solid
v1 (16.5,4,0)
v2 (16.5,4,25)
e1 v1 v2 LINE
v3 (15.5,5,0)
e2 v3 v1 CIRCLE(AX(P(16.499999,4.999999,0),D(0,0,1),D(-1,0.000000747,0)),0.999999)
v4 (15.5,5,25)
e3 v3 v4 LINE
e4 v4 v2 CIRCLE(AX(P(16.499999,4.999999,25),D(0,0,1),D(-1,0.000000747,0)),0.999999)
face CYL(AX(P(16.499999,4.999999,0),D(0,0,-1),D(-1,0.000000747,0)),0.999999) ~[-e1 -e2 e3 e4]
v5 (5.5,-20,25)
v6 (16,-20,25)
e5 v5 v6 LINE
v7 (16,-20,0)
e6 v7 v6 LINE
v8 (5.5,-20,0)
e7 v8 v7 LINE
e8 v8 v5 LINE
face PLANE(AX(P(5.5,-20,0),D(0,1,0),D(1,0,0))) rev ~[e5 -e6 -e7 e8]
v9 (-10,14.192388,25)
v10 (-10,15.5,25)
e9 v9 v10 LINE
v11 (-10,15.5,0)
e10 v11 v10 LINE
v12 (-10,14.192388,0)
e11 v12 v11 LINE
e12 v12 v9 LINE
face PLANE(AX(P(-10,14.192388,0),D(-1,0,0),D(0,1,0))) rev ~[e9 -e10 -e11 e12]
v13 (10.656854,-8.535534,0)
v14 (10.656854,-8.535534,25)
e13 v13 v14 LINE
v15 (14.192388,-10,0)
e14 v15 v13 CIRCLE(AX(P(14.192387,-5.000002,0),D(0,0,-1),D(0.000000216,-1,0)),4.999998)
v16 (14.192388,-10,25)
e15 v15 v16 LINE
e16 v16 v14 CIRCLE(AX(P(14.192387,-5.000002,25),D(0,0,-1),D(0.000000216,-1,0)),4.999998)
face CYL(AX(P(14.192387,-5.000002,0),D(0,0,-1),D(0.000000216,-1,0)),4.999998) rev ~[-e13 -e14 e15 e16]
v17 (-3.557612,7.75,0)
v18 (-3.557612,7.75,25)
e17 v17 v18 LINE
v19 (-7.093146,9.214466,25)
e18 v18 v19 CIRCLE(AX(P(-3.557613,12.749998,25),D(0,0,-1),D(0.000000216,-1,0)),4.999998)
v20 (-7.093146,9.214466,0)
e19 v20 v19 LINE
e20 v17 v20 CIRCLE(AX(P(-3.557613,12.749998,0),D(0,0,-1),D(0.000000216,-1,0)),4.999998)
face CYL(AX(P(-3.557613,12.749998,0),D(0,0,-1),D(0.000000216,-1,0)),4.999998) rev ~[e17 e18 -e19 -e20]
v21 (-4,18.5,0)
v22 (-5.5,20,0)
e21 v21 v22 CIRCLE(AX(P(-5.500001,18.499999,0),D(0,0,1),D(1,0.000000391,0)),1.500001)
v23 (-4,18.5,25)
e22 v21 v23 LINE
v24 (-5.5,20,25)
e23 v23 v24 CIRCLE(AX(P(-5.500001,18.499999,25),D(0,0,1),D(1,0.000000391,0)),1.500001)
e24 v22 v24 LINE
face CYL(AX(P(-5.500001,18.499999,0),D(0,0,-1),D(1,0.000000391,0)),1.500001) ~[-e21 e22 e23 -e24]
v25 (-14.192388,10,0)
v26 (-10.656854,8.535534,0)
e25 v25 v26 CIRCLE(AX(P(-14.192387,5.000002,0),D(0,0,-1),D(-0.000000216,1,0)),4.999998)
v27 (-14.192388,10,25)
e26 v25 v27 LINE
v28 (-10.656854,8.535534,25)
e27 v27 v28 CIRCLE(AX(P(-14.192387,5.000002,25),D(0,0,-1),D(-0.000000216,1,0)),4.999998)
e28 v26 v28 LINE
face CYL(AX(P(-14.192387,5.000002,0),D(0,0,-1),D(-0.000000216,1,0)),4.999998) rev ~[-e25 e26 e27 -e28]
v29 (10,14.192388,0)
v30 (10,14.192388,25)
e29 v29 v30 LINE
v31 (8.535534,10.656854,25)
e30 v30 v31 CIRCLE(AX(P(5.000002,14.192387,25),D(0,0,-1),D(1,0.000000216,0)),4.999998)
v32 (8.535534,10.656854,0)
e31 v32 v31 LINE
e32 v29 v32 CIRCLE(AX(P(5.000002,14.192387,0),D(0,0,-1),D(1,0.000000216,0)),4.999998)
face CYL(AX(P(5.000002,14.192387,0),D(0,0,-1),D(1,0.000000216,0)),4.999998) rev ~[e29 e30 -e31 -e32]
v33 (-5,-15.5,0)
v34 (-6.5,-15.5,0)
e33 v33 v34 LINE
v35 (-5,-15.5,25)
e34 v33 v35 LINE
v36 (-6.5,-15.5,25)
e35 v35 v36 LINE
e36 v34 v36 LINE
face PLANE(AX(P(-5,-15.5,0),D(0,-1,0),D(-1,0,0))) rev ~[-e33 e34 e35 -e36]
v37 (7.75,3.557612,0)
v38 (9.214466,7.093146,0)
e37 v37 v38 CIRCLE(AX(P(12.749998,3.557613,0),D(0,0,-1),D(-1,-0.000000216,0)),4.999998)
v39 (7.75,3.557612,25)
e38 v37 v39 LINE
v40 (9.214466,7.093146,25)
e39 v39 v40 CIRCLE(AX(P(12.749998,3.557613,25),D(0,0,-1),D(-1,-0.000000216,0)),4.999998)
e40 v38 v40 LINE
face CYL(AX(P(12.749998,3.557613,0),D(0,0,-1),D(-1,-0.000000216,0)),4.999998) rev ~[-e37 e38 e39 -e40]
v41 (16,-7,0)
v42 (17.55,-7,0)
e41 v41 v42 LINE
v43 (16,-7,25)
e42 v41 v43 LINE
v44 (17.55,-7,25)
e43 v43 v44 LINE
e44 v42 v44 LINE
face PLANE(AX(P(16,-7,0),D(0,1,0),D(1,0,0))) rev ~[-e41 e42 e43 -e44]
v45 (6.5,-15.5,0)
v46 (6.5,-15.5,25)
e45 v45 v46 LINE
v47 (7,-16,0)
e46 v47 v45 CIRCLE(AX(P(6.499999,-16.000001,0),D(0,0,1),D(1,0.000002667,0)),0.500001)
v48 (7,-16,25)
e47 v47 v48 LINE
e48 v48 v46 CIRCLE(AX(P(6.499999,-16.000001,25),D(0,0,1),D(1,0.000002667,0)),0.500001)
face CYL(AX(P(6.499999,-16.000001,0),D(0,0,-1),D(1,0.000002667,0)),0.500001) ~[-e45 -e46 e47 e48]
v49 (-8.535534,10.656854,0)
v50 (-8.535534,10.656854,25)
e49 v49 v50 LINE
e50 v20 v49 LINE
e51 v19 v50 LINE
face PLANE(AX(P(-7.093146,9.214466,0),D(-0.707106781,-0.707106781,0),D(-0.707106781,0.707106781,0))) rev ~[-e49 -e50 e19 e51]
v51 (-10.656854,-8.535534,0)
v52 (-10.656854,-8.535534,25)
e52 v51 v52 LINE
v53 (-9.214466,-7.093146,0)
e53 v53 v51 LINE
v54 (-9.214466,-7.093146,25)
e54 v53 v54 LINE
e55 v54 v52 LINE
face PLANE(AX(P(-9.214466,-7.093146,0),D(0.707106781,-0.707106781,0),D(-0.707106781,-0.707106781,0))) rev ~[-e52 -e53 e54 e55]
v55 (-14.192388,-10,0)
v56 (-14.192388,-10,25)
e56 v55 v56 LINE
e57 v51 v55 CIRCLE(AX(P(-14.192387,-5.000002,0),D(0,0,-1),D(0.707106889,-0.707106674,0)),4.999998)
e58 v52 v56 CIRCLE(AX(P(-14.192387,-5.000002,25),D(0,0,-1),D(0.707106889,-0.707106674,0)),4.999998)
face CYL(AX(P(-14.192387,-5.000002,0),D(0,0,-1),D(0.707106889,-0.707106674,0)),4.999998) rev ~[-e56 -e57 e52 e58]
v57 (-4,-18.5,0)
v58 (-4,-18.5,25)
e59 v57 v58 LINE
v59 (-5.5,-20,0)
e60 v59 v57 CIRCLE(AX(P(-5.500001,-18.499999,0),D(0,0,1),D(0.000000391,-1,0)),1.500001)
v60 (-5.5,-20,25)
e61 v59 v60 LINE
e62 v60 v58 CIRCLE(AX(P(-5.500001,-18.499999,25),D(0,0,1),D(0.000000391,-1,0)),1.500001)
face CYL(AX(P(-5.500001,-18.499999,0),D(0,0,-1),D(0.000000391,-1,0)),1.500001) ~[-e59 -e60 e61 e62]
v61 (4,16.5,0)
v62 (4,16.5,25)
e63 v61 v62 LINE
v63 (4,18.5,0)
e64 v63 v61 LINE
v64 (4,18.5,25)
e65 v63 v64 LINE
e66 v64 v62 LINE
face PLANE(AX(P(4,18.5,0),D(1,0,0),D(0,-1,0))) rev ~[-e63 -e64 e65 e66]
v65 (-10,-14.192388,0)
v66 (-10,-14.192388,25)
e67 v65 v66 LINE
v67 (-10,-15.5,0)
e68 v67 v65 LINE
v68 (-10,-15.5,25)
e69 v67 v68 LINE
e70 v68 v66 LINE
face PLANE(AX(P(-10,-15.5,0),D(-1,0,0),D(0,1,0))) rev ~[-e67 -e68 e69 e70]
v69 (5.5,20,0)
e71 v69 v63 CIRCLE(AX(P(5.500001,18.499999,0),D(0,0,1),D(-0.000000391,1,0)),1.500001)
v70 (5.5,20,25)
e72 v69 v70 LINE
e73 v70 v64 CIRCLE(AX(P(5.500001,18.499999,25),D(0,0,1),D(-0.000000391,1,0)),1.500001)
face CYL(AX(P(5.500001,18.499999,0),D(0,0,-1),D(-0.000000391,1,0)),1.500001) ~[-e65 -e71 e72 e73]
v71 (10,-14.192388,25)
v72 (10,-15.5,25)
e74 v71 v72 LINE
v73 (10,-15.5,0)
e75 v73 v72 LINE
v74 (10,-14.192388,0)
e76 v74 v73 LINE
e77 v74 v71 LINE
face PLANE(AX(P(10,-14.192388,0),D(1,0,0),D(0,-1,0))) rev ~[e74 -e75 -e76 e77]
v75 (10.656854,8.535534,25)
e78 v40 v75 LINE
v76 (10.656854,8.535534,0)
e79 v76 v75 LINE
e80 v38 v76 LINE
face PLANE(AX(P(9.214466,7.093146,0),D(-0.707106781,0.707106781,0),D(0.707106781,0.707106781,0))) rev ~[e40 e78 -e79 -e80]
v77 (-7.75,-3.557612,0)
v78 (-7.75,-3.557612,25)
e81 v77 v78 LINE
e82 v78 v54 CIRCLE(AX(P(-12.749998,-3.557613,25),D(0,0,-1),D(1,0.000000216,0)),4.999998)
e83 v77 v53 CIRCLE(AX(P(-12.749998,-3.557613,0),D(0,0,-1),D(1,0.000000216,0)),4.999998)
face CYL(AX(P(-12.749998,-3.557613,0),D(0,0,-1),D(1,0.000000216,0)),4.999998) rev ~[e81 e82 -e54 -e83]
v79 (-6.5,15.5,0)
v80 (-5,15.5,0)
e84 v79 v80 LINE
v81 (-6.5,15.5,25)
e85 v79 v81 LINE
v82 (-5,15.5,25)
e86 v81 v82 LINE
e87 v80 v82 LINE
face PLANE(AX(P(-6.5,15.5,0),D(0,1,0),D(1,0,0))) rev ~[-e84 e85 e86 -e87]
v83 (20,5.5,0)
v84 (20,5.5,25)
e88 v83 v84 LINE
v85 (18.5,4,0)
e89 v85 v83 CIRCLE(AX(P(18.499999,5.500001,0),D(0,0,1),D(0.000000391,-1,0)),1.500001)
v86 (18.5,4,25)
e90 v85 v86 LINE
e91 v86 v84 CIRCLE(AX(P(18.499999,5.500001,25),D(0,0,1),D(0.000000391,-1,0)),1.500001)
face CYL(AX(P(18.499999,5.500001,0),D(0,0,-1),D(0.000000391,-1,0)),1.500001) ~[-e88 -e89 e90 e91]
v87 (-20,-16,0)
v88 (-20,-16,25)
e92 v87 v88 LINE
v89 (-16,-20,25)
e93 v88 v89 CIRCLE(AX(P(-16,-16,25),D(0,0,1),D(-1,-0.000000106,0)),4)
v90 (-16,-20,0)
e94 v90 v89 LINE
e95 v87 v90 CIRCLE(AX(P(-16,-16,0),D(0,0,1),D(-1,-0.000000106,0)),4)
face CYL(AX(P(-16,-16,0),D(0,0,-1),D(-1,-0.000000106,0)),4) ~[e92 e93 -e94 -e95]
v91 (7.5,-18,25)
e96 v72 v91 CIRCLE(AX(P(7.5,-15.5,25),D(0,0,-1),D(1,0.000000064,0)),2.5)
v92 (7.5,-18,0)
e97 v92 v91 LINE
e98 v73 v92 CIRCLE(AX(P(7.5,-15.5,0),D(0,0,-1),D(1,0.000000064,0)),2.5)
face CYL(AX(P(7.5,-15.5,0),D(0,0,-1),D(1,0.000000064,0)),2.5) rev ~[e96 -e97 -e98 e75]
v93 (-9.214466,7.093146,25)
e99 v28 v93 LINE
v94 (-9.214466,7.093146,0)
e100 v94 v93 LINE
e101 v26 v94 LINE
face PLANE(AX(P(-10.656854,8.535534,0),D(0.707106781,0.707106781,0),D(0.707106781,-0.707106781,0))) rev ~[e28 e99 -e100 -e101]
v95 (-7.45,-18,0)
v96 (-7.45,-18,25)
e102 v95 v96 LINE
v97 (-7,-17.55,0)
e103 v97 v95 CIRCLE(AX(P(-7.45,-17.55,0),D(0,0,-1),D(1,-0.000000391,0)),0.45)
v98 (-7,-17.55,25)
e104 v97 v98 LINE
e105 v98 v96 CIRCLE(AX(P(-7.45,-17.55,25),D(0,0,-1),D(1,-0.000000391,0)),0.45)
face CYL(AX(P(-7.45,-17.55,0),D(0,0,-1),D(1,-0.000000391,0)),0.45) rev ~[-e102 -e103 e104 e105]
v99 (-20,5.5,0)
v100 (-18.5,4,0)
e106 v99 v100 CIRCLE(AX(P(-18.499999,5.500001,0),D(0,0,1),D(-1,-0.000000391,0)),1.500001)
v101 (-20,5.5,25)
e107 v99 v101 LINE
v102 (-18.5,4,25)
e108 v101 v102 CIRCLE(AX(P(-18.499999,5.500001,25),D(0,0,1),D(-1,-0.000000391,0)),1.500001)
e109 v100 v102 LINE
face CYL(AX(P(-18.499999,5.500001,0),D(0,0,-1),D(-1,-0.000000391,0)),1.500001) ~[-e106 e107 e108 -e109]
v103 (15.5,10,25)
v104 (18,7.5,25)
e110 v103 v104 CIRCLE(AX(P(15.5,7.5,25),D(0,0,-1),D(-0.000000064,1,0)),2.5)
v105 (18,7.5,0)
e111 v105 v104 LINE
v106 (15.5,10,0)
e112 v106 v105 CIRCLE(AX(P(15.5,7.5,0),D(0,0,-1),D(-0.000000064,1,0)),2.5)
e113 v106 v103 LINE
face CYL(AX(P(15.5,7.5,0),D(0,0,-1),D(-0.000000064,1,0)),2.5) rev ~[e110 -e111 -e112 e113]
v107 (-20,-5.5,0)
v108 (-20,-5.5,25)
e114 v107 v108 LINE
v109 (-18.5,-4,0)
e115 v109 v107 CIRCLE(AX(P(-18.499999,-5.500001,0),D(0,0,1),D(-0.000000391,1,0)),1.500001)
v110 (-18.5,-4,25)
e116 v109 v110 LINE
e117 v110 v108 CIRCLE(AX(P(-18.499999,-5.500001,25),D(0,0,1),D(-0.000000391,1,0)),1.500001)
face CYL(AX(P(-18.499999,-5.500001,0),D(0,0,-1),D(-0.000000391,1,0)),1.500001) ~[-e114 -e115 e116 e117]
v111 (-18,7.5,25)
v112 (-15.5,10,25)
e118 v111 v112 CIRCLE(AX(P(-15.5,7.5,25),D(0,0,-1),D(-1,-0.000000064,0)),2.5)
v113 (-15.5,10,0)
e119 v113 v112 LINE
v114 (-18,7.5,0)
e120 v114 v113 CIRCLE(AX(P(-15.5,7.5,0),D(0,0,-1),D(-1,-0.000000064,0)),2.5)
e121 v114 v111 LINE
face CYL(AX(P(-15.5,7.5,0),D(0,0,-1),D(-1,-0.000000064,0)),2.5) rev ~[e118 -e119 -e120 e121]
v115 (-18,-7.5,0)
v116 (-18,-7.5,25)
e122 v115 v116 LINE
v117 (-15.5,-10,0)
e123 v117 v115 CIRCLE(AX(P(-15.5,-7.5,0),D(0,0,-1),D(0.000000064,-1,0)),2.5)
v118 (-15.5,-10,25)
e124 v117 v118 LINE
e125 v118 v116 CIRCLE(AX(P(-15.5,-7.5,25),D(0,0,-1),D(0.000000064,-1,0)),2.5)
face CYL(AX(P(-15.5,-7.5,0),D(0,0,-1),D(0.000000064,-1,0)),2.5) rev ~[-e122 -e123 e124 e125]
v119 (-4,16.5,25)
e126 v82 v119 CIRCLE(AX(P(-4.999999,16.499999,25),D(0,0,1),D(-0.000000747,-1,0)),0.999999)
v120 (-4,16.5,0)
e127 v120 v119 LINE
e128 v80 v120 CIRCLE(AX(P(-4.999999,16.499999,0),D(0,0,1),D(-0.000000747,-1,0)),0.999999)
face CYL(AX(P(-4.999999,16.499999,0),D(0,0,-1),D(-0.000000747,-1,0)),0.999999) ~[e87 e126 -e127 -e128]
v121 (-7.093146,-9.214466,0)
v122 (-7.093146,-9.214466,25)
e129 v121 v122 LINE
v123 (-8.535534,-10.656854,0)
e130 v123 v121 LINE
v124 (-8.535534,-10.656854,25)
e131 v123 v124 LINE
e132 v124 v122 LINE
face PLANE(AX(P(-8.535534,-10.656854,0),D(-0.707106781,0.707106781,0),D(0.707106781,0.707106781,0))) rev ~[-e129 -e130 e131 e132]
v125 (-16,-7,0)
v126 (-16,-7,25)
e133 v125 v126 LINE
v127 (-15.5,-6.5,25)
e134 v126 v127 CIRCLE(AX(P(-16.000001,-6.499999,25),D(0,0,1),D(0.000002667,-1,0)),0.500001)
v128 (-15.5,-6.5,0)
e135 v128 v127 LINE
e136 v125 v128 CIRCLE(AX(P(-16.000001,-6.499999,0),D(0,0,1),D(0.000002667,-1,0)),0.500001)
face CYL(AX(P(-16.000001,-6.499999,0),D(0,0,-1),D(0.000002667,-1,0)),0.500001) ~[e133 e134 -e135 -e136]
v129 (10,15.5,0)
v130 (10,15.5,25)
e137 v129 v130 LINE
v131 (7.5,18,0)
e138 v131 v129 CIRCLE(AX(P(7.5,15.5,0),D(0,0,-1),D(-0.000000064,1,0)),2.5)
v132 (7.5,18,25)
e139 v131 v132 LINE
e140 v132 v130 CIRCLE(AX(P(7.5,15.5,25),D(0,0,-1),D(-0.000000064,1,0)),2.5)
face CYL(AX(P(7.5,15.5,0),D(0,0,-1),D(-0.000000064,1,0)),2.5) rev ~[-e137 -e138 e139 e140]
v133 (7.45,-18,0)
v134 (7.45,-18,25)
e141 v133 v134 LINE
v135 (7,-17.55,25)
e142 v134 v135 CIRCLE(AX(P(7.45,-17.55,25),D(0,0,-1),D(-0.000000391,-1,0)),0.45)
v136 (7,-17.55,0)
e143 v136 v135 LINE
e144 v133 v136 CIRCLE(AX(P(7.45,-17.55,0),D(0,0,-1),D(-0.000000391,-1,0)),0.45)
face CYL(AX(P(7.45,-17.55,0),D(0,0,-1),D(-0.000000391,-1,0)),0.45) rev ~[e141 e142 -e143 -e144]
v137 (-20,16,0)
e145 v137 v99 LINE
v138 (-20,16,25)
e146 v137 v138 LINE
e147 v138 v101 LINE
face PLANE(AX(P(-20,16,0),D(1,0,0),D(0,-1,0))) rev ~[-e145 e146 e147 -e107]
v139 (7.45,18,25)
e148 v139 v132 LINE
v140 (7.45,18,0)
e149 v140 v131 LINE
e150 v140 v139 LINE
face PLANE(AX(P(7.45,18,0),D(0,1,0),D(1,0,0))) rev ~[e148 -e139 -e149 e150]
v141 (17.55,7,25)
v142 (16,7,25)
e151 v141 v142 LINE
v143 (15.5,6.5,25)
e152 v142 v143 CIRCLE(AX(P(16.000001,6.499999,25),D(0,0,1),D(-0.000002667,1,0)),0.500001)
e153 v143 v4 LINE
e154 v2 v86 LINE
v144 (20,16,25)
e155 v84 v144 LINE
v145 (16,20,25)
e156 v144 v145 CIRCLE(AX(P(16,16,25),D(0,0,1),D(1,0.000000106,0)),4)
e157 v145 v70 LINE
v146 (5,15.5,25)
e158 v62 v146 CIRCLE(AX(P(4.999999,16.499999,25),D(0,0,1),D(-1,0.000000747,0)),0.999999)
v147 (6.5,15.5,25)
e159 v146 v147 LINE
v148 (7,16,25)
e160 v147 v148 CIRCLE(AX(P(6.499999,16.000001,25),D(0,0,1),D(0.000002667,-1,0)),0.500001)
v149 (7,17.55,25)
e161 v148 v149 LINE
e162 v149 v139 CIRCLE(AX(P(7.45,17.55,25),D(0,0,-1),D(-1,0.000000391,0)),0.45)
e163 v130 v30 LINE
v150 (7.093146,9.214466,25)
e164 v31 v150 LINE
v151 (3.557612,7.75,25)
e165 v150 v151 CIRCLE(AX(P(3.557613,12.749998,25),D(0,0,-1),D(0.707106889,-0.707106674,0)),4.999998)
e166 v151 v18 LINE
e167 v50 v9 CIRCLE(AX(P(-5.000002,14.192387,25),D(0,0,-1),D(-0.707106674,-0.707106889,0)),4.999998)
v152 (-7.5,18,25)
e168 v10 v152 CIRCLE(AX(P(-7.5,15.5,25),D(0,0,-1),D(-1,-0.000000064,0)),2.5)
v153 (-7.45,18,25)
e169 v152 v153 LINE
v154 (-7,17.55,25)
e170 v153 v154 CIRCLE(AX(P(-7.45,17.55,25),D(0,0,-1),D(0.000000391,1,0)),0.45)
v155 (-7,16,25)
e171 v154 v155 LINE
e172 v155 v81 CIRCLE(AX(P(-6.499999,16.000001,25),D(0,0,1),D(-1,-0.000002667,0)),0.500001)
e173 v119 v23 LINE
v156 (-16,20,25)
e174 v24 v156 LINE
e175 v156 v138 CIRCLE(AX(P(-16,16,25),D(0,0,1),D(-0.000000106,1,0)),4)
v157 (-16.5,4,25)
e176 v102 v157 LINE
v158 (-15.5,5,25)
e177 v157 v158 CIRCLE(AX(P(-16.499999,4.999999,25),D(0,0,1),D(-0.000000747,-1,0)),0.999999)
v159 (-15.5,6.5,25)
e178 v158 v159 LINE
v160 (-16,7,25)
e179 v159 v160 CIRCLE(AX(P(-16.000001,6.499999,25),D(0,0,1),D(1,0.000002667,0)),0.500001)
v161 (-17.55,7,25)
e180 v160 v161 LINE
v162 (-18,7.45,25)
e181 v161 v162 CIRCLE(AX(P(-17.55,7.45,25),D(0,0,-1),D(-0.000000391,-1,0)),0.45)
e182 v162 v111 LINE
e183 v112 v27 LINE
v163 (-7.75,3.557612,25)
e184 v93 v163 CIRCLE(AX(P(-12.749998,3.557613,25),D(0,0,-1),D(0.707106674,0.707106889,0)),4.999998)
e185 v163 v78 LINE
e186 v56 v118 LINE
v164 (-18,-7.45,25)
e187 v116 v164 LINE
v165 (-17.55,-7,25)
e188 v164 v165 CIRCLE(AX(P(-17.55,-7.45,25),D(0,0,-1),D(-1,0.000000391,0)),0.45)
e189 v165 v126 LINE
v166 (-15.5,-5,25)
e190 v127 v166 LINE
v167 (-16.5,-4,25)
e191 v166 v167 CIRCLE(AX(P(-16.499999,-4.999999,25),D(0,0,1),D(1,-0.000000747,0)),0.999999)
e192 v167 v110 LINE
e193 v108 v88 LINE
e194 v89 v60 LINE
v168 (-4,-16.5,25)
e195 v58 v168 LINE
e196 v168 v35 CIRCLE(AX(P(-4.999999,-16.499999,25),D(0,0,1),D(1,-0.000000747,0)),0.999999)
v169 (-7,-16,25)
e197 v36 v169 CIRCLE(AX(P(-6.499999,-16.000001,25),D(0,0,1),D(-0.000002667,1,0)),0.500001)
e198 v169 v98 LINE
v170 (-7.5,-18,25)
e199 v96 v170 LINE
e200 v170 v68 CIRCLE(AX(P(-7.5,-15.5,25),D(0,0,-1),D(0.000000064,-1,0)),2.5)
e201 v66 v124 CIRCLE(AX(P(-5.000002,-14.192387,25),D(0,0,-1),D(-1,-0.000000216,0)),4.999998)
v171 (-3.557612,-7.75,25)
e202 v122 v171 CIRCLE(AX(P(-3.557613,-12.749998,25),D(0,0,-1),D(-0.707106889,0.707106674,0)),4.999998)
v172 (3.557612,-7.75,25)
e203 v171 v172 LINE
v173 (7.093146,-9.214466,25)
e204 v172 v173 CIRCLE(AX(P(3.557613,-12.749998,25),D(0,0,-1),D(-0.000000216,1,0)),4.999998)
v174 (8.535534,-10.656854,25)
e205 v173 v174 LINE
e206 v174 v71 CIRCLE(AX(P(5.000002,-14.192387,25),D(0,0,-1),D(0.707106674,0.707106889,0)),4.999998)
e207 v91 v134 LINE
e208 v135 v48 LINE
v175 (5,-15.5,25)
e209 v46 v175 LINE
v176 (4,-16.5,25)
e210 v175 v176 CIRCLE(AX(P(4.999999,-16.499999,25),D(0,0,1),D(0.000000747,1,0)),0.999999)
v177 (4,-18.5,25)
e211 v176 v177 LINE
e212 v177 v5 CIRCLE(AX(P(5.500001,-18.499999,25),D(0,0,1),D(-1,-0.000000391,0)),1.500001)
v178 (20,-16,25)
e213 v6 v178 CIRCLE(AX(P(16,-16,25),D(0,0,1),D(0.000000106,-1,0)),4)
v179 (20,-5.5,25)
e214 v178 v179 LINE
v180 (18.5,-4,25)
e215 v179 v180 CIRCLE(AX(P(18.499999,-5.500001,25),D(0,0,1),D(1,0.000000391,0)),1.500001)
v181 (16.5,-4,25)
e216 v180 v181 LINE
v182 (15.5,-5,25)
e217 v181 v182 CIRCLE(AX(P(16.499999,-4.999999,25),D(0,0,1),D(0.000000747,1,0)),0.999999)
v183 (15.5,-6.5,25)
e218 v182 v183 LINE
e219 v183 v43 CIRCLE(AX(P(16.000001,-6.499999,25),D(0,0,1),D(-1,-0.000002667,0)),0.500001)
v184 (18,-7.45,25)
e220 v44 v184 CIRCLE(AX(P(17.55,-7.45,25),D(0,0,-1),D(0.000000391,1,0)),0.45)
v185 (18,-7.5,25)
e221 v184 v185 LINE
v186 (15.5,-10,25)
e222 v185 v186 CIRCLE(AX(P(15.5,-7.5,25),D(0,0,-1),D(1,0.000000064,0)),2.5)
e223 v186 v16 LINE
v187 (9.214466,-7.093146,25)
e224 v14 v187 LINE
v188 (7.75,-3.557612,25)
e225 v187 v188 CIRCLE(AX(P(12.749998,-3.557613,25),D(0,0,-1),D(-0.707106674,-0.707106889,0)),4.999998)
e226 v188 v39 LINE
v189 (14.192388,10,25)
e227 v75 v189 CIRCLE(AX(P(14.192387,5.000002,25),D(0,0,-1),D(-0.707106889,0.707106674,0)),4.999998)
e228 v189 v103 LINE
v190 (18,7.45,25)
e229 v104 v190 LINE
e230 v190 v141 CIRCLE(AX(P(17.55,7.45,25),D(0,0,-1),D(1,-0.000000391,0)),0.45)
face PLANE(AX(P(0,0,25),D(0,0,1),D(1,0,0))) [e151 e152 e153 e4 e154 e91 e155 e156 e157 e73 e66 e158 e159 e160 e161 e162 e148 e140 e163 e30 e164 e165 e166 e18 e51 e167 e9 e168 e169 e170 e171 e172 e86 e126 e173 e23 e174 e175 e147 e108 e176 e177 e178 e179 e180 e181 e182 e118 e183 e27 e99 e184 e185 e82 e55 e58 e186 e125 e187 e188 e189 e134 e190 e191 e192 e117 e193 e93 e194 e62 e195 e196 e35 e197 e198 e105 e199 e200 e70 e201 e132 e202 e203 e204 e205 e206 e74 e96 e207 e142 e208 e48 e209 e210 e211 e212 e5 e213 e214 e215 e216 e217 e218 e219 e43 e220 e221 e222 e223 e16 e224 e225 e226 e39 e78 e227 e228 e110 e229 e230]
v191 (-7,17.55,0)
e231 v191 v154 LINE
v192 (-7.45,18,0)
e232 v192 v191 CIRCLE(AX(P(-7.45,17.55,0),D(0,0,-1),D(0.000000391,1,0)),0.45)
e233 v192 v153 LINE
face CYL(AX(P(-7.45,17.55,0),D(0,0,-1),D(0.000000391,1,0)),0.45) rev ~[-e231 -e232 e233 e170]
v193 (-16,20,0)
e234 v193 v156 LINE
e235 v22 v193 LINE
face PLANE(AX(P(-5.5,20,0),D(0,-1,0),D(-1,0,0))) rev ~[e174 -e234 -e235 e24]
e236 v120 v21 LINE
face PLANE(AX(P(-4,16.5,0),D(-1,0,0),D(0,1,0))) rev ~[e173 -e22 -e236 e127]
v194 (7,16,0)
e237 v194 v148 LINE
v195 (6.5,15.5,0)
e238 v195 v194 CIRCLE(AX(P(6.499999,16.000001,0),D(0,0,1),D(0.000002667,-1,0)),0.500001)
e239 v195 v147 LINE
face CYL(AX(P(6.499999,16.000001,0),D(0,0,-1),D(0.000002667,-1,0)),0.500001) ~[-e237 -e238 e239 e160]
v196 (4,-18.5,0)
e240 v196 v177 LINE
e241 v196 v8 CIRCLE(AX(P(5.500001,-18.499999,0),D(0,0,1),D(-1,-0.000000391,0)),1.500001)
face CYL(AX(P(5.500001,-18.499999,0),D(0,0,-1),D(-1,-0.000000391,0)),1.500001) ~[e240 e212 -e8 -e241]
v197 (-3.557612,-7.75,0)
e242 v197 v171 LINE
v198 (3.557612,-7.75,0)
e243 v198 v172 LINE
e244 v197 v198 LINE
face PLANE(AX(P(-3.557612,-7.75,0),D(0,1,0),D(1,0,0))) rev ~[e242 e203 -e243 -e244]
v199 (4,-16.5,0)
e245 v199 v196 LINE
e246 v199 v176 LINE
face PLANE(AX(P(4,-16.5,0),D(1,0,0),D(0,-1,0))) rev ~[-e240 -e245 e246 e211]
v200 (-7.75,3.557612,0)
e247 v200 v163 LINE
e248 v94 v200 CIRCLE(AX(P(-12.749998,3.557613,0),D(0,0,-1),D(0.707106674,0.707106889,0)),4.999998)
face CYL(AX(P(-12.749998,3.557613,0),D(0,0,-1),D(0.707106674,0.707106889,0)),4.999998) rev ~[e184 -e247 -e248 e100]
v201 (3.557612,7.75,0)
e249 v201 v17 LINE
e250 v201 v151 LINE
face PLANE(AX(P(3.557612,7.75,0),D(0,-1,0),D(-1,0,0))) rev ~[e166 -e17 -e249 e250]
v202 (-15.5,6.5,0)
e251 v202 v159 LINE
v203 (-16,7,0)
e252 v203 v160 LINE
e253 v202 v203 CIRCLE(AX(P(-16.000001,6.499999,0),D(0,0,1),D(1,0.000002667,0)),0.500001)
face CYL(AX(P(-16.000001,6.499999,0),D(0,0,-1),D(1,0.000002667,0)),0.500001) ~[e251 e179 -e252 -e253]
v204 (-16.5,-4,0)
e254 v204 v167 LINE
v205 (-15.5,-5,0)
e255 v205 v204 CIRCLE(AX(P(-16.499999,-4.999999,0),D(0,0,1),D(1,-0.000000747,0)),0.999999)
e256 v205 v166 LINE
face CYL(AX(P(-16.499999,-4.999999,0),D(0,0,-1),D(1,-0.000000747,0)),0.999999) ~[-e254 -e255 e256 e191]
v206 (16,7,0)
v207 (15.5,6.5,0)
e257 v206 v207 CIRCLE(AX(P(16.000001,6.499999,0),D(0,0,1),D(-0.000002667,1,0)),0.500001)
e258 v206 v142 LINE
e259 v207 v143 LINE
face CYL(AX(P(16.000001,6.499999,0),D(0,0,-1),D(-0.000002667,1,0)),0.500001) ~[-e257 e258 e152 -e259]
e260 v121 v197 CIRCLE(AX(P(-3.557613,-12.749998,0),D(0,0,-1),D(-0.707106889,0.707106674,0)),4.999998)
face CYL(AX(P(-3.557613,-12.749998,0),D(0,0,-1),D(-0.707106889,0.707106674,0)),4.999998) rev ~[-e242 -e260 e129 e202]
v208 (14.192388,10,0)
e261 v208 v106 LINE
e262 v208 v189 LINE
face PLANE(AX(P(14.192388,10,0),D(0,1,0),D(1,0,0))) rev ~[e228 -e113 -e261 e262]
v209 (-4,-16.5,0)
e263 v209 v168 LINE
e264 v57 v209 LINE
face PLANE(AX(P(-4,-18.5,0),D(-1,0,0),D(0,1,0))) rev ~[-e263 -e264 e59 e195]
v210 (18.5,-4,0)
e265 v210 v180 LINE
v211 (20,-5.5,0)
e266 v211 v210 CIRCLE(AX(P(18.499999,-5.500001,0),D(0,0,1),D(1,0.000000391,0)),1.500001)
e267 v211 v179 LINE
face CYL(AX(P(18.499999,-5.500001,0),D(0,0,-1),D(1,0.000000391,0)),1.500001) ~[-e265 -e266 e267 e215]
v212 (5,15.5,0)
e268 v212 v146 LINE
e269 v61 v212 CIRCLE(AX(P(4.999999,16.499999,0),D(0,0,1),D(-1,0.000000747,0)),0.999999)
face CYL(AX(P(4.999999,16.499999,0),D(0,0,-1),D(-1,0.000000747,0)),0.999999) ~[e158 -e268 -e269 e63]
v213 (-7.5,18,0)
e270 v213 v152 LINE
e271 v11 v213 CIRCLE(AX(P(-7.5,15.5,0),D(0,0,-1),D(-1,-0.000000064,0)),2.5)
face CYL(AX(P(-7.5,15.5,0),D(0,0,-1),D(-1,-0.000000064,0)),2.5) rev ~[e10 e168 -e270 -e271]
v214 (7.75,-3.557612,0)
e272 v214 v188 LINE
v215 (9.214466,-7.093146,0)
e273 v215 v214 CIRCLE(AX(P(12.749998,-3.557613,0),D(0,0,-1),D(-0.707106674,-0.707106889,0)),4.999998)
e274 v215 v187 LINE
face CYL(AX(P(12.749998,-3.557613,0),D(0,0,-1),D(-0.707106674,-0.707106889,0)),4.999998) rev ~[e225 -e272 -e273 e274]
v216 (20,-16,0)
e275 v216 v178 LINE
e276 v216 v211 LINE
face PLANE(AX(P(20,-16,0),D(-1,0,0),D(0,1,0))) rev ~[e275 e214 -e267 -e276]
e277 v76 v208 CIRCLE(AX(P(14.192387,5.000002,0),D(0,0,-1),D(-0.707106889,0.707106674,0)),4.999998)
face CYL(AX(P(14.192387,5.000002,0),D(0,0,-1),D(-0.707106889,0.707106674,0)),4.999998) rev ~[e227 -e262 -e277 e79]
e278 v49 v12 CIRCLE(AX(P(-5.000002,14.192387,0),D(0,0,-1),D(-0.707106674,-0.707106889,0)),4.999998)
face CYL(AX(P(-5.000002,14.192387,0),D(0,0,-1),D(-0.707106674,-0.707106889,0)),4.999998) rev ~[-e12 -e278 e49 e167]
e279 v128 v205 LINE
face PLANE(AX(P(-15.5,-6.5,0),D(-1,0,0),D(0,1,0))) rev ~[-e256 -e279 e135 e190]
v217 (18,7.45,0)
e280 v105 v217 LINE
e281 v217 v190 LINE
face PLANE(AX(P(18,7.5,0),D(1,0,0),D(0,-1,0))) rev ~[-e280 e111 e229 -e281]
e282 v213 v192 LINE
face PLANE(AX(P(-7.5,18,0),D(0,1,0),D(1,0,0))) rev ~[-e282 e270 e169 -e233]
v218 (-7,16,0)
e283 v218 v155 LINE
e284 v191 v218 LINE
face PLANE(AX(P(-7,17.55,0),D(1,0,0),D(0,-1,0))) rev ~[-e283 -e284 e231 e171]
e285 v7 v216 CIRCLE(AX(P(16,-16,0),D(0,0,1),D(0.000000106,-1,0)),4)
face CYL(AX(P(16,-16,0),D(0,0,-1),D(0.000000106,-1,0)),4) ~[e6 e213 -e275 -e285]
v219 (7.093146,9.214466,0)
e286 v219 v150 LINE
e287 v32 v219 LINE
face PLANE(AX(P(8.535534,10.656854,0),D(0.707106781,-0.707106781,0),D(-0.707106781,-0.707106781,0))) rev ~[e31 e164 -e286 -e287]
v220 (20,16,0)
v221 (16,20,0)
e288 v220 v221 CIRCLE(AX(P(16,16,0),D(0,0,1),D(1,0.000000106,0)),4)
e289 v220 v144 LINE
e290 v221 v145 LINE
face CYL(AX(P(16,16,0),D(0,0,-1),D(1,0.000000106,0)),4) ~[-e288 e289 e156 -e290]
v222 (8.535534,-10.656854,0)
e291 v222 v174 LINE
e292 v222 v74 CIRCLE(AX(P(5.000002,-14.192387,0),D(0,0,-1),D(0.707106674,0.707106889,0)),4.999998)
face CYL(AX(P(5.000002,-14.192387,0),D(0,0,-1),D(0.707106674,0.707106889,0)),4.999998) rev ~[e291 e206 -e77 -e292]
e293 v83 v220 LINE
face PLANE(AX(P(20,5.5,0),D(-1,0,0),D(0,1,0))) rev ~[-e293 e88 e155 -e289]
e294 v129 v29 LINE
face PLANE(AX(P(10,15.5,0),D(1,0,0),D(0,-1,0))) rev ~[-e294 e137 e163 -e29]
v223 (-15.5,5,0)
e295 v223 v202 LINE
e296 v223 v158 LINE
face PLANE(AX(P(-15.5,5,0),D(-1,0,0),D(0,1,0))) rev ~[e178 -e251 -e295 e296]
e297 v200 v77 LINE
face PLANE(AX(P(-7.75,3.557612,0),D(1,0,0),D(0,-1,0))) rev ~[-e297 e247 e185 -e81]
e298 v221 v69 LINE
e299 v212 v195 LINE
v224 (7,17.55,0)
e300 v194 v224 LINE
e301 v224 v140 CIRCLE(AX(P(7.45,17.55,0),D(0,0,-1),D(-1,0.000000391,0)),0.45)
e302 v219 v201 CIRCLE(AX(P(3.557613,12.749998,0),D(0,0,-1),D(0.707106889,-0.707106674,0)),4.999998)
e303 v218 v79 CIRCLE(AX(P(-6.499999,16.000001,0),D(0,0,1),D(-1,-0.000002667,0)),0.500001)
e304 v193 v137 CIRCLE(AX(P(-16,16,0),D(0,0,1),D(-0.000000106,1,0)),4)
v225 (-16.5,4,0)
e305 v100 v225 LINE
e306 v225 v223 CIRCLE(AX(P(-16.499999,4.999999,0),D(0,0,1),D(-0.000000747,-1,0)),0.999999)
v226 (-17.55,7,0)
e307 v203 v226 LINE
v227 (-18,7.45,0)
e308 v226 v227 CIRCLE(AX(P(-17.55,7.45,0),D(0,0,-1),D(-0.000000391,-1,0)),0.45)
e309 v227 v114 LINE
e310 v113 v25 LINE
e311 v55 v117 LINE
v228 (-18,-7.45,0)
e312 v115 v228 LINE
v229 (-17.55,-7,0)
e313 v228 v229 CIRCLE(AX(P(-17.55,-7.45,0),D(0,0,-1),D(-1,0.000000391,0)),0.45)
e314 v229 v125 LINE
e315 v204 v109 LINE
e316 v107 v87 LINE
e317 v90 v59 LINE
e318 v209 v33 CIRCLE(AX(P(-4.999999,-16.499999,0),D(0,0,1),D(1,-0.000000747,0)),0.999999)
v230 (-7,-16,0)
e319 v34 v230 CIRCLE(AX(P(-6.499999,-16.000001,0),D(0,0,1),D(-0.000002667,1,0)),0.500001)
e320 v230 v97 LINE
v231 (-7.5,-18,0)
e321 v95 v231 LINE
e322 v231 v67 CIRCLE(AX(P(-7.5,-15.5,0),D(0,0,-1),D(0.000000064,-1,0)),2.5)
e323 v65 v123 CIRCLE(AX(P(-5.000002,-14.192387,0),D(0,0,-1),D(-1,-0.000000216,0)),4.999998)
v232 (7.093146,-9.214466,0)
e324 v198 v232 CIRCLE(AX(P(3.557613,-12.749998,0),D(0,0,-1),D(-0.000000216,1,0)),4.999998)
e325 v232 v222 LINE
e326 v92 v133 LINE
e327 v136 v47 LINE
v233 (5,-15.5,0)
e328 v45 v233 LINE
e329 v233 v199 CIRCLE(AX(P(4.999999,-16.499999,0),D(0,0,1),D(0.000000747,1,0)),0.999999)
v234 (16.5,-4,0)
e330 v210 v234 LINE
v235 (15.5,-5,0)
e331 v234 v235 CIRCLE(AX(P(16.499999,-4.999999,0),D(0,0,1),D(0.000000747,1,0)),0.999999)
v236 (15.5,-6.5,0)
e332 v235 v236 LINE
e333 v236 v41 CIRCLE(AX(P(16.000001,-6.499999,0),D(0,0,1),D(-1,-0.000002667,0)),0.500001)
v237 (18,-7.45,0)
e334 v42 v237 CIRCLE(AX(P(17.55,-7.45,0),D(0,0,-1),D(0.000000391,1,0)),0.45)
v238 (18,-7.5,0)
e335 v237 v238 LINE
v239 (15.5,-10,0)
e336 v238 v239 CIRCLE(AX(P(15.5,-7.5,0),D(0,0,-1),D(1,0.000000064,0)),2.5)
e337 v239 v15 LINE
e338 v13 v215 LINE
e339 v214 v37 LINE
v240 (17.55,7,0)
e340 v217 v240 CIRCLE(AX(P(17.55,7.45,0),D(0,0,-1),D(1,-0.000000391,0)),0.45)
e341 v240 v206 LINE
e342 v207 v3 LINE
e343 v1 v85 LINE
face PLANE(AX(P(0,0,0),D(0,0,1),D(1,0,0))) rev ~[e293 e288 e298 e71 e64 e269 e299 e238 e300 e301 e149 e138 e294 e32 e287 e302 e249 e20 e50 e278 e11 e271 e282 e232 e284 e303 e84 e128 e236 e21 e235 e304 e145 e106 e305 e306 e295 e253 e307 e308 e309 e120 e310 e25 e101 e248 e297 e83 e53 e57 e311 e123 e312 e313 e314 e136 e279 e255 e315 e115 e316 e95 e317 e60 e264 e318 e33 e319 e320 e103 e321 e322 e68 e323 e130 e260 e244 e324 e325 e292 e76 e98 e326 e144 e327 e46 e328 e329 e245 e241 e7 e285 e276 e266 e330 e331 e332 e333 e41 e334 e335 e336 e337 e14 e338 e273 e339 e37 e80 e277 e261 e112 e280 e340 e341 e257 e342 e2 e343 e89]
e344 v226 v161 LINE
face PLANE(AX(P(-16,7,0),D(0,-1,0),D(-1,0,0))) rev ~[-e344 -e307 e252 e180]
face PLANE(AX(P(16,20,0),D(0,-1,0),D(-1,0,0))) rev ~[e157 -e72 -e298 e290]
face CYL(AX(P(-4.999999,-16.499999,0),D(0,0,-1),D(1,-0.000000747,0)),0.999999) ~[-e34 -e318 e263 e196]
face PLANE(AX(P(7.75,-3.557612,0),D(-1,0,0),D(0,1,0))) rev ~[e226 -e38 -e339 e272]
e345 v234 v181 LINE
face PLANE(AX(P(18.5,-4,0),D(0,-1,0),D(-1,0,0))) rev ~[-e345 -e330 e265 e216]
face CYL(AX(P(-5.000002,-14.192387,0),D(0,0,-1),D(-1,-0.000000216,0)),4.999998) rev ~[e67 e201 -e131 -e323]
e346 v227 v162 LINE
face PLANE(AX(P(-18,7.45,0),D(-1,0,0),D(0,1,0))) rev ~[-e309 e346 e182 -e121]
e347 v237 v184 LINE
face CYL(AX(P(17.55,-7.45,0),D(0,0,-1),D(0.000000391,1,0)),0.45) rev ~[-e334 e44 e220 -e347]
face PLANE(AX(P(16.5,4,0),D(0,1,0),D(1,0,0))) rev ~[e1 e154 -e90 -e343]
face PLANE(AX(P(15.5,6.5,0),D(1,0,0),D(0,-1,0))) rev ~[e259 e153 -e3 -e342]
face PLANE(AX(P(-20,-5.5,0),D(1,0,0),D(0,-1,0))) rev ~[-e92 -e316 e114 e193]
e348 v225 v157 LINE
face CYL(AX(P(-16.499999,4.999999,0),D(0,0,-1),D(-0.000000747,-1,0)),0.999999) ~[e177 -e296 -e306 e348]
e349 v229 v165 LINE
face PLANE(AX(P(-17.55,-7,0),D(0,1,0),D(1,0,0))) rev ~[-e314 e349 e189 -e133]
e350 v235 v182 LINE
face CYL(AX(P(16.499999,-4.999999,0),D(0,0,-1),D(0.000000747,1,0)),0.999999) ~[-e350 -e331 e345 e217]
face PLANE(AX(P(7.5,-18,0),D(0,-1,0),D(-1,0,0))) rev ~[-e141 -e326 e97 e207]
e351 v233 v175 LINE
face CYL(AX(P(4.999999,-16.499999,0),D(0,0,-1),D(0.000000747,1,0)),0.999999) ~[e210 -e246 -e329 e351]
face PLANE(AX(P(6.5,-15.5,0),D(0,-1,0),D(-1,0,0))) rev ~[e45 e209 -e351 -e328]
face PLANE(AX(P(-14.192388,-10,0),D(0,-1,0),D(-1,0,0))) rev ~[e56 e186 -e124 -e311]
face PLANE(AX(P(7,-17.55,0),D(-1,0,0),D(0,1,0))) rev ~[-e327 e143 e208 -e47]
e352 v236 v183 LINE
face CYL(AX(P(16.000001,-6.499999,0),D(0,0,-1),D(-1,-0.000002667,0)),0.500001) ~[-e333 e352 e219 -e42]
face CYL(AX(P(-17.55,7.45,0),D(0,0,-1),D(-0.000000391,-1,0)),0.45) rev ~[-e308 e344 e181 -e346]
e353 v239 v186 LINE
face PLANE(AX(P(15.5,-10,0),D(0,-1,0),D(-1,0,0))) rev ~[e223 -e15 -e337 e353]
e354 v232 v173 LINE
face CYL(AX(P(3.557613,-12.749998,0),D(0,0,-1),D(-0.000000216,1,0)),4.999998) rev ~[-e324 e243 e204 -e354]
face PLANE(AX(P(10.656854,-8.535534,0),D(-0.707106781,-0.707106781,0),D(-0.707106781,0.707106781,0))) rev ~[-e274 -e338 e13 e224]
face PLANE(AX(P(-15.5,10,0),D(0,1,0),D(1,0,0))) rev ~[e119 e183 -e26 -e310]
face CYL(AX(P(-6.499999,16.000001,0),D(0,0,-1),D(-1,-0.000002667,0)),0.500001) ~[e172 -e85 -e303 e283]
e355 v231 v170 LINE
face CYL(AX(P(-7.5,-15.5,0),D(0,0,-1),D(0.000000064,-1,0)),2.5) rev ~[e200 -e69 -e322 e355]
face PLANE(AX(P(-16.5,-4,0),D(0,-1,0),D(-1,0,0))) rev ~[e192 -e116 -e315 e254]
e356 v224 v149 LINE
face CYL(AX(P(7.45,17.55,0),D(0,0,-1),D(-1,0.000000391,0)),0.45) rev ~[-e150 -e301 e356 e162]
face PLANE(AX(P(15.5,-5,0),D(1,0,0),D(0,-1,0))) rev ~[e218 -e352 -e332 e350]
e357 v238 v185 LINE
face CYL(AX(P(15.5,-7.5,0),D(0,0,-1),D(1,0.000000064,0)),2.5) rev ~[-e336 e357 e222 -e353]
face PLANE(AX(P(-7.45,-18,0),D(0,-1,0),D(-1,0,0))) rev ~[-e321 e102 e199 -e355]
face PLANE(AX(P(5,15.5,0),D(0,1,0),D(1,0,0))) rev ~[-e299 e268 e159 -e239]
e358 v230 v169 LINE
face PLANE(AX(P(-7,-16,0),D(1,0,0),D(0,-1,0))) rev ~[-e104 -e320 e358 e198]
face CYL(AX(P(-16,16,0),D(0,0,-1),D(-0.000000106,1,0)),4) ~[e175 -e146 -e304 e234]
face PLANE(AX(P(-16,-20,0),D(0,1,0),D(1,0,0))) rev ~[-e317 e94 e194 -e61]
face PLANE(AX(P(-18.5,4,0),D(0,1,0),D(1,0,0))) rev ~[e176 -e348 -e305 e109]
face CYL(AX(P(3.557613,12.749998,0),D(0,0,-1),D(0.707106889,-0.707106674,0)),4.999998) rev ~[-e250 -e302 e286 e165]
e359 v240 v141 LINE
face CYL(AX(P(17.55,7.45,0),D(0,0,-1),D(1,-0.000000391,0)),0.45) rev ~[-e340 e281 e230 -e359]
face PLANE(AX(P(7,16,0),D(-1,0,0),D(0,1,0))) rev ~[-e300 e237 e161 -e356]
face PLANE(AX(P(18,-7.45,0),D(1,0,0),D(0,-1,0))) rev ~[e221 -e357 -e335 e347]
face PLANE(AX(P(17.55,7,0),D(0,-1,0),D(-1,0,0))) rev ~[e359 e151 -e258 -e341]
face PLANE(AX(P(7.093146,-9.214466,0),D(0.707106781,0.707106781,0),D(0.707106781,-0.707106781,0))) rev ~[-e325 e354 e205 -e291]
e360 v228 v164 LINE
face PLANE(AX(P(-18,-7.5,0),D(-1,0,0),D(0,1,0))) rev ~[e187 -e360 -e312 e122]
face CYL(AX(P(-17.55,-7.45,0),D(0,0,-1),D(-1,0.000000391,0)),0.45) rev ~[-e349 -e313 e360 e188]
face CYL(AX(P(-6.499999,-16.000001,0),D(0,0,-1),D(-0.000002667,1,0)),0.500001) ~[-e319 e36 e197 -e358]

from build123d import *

# Parameters (mm, degrees)
F1_DEPTH = 25


with BuildPart() as f1:
    # F0 (on Top) → F1 (new body)
    with BuildSketch(Plane.XY):
        with BuildLine():
            Line((-16.5, -4), (-18.5, -4))
            ThreePointArc((-18.5, -4), (-19.56066, -4.43934), (-20, -5.5))
            Line((-20, -5.5), (-20, -16))
            ThreePointArc((-20, -16), (-18.828427, -18.828427), (-16, -20))
            Line((-16, -20), (-5.5, -20))
            ThreePointArc((-5.5, -20), (-4.43934, -19.56066), (-4, -18.5))
            Line((-4, -18.5), (-4, -16.5))
            ThreePointArc((-4, -16.5), (-4.292893, -15.792893), (-5, -15.5))
            Line((-5, -15.5), (-6.5, -15.5))
            ThreePointArc((-6.5, -15.5), (-6.853553, -15.646447), (-7, -16))
            Line((-7, -16), (-7, -17.55))
            ThreePointArc((-7, -17.55), (-7.131802, -17.868198), (-7.45, -18))
            Line((-7.45, -18), (-7.5, -18))
            ThreePointArc((-7.5, -18), (-9.267767, -17.267767), (-10, -15.5))
            Line((-10, -15.5), (-10, -14.192388))
            ThreePointArc((-10, -14.192388), (-9.619398, -12.278971), (-8.535534, -10.656854))
            Line((-8.535534, -10.656854), (-7.093146, -9.214466))
            ThreePointArc((-7.093146, -9.214466), (-5.471029, -8.130602), (-3.557612, -7.75))
            Line((-3.557612, -7.75), (3.557612, -7.75))
            ThreePointArc((3.557612, -7.75), (5.471029, -8.130602), (7.093146, -9.214466))
            Line((7.093146, -9.214466), (8.535534, -10.656854))
            ThreePointArc((8.535534, -10.656854), (9.619398, -12.278971), (10, -14.192388))
            Line((10, -14.192388), (10, -15.5))
            ThreePointArc((10, -15.5), (9.267767, -17.267767), (7.5, -18))
            Line((7.5, -18), (7.45, -18))
            ThreePointArc((7.45, -18), (7.131802, -17.868198), (7, -17.55))
            Line((7, -17.55), (7, -16))
            ThreePointArc((7, -16), (6.853553, -15.646447), (6.5, -15.5))
            Line((6.5, -15.5), (5, -15.5))
            ThreePointArc((5, -15.5), (4.292893, -15.792893), (4, -16.5))
            Line((4, -16.5), (4, -18.5))
            ThreePointArc((4, -18.5), (4.43934, -19.56066), (5.5, -20))
            Line((5.5, -20), (16, -20))
            ThreePointArc((16, -20), (18.828427, -18.828427), (20, -16))
            Line((20, -16), (20, -5.5))
            ThreePointArc((20, -5.5), (19.56066, -4.43934), (18.5, -4))
            Line((18.5, -4), (16.5, -4))
            ThreePointArc((16.5, -4), (15.792893, -4.292893), (15.5, -5))
            Line((15.5, -5), (15.5, -6.5))
            ThreePointArc((15.5, -6.5), (15.646447, -6.853553), (16, -7))
            Line((16, -7), (17.55, -7))
            ThreePointArc((17.55, -7), (17.868198, -7.131802), (18, -7.45))
            Line((18, -7.45), (18, -7.5))
            ThreePointArc((18, -7.5), (17.267767, -9.267767), (15.5, -10))
            Line((15.5, -10), (14.192388, -10))
            ThreePointArc((14.192388, -10), (12.278971, -9.619398), (10.656854, -8.535534))
            Line((10.656854, -8.535534), (9.214466, -7.093146))
            ThreePointArc((9.214466, -7.093146), (8.130602, -5.471029), (7.75, -3.557612))
            Line((7.75, -3.557612), (7.75, 3.557612))
            ThreePointArc((7.75, 3.557612), (8.130602, 5.471029), (9.214466, 7.093146))
            Line((9.214466, 7.093146), (10.656854, 8.535534))
            ThreePointArc((10.656854, 8.535534), (12.278971, 9.619398), (14.192388, 10))
            Line((14.192388, 10), (15.5, 10))
            ThreePointArc((15.5, 10), (17.267767, 9.267767), (18, 7.5))
            Line((18, 7.5), (18, 7.45))
            ThreePointArc((18, 7.45), (17.868198, 7.131802), (17.55, 7))
            Line((17.55, 7), (16, 7))
            ThreePointArc((16, 7), (15.646447, 6.853553), (15.5, 6.5))
            Line((15.5, 6.5), (15.5, 5))
            ThreePointArc((15.5, 5), (15.792893, 4.292893), (16.5, 4))
            Line((16.5, 4), (18.5, 4))
            ThreePointArc((18.5, 4), (19.56066, 4.43934), (20, 5.5))
            Line((20, 5.5), (20, 16))
            ThreePointArc((20, 16), (18.828427, 18.828427), (16, 20))
            Line((16, 20), (5.5, 20))
            ThreePointArc((5.5, 20), (4.43934, 19.56066), (4, 18.5))
            Line((4, 18.5), (4, 16.5))
            ThreePointArc((4, 16.5), (4.292893, 15.792893), (5, 15.5))
            Line((5, 15.5), (6.5, 15.5))
            ThreePointArc((6.5, 15.5), (6.853553, 15.646447), (7, 16))
            Line((7, 16), (7, 17.55))
            ThreePointArc((7, 17.55), (7.131802, 17.868198), (7.45, 18))
            Line((7.45, 18), (7.5, 18))
            ThreePointArc((7.5, 18), (9.267767, 17.267767), (10, 15.5))
            Line((10, 15.5), (10, 14.192388))
            ThreePointArc((10, 14.192388), (9.619398, 12.278971), (8.535534, 10.656854))
            Line((8.535534, 10.656854), (7.093146, 9.214466))
            ThreePointArc((7.093146, 9.214466), (5.471029, 8.130602), (3.557612, 7.75))
            Line((3.557612, 7.75), (-3.557612, 7.75))
            ThreePointArc((-3.557612, 7.75), (-5.471029, 8.130602), (-7.093146, 9.214466))
            Line((-7.093146, 9.214466), (-8.535534, 10.656854))
            ThreePointArc((-8.535534, 10.656854), (-9.619398, 12.278971), (-10, 14.192388))
            Line((-10, 14.192388), (-10, 15.5))
            ThreePointArc((-10, 15.5), (-9.267767, 17.267767), (-7.5, 18))
            Line((-7.5, 18), (-7.45, 18))
            ThreePointArc((-7.45, 18), (-7.131802, 17.868198), (-7, 17.55))
            Line((-7, 17.55), (-7, 16))
            ThreePointArc((-7, 16), (-6.853553, 15.646447), (-6.5, 15.5))
            Line((-6.5, 15.5), (-5, 15.5))
            ThreePointArc((-5, 15.5), (-4.292893, 15.792893), (-4, 16.5))
            Line((-4, 16.5), (-4, 18.5))
            ThreePointArc((-4, 18.5), (-4.43934, 19.56066), (-5.5, 20))
            Line((-5.5, 20), (-16, 20))
            ThreePointArc((-16, 20), (-18.828427, 18.828427), (-20, 16))
            Line((-20, 16), (-20, 5.5))
            ThreePointArc((-20, 5.5), (-19.56066, 4.43934), (-18.5, 4))
            Line((-18.5, 4), (-16.5, 4))
            ThreePointArc((-16.5, 4), (-15.792893, 4.292893), (-15.5, 5))
            Line((-15.5, 5), (-15.5, 6.5))
            ThreePointArc((-15.5, 6.5), (-15.646447, 6.853553), (-16, 7))
            Line((-16, 7), (-17.55, 7))
            ThreePointArc((-17.55, 7), (-17.868198, 7.131802), (-18, 7.45))
            Line((-18, 7.45), (-18, 7.5))
            ThreePointArc((-18, 7.5), (-17.267767, 9.267767), (-15.5, 10))
            Line((-15.5, 10), (-14.192388, 10))
            ThreePointArc((-14.192388, 10), (-12.278971, 9.619398), (-10.656854, 8.535534))
            Line((-10.656854, 8.535534), (-9.214466, 7.093146))
            ThreePointArc((-9.214466, 7.093146), (-8.130602, 5.471029), (-7.75, 3.557612))
            Line((-7.75, 3.557612), (-7.75, -3.557612))
            ThreePointArc((-7.75, -3.557612), (-8.130602, -5.471029), (-9.214466, -7.093146))
            Line((-9.214466, -7.093146), (-10.656854, -8.535534))
            ThreePointArc((-10.656854, -8.535534), (-12.278971, -9.619398), (-14.192388, -10))
            Line((-14.192388, -10), (-15.5, -10))
            ThreePointArc((-15.5, -10), (-17.267767, -9.267767), (-18, -7.5))
            Line((-18, -7.5), (-18, -7.45))
            ThreePointArc((-18, -7.45), (-17.868198, -7.131802), (-17.55, -7))
            Line((-17.55, -7), (-16, -7))
            ThreePointArc((-16, -7), (-15.646447, -6.853553), (-15.5, -6.5))
            Line((-15.5, -6.5), (-15.5, -5))
            ThreePointArc((-15.5, -5), (-15.792893, -4.292893), (-16.5, -4))
        make_face()
    extrude(amount=F1_DEPTH)


solid = f1.part
